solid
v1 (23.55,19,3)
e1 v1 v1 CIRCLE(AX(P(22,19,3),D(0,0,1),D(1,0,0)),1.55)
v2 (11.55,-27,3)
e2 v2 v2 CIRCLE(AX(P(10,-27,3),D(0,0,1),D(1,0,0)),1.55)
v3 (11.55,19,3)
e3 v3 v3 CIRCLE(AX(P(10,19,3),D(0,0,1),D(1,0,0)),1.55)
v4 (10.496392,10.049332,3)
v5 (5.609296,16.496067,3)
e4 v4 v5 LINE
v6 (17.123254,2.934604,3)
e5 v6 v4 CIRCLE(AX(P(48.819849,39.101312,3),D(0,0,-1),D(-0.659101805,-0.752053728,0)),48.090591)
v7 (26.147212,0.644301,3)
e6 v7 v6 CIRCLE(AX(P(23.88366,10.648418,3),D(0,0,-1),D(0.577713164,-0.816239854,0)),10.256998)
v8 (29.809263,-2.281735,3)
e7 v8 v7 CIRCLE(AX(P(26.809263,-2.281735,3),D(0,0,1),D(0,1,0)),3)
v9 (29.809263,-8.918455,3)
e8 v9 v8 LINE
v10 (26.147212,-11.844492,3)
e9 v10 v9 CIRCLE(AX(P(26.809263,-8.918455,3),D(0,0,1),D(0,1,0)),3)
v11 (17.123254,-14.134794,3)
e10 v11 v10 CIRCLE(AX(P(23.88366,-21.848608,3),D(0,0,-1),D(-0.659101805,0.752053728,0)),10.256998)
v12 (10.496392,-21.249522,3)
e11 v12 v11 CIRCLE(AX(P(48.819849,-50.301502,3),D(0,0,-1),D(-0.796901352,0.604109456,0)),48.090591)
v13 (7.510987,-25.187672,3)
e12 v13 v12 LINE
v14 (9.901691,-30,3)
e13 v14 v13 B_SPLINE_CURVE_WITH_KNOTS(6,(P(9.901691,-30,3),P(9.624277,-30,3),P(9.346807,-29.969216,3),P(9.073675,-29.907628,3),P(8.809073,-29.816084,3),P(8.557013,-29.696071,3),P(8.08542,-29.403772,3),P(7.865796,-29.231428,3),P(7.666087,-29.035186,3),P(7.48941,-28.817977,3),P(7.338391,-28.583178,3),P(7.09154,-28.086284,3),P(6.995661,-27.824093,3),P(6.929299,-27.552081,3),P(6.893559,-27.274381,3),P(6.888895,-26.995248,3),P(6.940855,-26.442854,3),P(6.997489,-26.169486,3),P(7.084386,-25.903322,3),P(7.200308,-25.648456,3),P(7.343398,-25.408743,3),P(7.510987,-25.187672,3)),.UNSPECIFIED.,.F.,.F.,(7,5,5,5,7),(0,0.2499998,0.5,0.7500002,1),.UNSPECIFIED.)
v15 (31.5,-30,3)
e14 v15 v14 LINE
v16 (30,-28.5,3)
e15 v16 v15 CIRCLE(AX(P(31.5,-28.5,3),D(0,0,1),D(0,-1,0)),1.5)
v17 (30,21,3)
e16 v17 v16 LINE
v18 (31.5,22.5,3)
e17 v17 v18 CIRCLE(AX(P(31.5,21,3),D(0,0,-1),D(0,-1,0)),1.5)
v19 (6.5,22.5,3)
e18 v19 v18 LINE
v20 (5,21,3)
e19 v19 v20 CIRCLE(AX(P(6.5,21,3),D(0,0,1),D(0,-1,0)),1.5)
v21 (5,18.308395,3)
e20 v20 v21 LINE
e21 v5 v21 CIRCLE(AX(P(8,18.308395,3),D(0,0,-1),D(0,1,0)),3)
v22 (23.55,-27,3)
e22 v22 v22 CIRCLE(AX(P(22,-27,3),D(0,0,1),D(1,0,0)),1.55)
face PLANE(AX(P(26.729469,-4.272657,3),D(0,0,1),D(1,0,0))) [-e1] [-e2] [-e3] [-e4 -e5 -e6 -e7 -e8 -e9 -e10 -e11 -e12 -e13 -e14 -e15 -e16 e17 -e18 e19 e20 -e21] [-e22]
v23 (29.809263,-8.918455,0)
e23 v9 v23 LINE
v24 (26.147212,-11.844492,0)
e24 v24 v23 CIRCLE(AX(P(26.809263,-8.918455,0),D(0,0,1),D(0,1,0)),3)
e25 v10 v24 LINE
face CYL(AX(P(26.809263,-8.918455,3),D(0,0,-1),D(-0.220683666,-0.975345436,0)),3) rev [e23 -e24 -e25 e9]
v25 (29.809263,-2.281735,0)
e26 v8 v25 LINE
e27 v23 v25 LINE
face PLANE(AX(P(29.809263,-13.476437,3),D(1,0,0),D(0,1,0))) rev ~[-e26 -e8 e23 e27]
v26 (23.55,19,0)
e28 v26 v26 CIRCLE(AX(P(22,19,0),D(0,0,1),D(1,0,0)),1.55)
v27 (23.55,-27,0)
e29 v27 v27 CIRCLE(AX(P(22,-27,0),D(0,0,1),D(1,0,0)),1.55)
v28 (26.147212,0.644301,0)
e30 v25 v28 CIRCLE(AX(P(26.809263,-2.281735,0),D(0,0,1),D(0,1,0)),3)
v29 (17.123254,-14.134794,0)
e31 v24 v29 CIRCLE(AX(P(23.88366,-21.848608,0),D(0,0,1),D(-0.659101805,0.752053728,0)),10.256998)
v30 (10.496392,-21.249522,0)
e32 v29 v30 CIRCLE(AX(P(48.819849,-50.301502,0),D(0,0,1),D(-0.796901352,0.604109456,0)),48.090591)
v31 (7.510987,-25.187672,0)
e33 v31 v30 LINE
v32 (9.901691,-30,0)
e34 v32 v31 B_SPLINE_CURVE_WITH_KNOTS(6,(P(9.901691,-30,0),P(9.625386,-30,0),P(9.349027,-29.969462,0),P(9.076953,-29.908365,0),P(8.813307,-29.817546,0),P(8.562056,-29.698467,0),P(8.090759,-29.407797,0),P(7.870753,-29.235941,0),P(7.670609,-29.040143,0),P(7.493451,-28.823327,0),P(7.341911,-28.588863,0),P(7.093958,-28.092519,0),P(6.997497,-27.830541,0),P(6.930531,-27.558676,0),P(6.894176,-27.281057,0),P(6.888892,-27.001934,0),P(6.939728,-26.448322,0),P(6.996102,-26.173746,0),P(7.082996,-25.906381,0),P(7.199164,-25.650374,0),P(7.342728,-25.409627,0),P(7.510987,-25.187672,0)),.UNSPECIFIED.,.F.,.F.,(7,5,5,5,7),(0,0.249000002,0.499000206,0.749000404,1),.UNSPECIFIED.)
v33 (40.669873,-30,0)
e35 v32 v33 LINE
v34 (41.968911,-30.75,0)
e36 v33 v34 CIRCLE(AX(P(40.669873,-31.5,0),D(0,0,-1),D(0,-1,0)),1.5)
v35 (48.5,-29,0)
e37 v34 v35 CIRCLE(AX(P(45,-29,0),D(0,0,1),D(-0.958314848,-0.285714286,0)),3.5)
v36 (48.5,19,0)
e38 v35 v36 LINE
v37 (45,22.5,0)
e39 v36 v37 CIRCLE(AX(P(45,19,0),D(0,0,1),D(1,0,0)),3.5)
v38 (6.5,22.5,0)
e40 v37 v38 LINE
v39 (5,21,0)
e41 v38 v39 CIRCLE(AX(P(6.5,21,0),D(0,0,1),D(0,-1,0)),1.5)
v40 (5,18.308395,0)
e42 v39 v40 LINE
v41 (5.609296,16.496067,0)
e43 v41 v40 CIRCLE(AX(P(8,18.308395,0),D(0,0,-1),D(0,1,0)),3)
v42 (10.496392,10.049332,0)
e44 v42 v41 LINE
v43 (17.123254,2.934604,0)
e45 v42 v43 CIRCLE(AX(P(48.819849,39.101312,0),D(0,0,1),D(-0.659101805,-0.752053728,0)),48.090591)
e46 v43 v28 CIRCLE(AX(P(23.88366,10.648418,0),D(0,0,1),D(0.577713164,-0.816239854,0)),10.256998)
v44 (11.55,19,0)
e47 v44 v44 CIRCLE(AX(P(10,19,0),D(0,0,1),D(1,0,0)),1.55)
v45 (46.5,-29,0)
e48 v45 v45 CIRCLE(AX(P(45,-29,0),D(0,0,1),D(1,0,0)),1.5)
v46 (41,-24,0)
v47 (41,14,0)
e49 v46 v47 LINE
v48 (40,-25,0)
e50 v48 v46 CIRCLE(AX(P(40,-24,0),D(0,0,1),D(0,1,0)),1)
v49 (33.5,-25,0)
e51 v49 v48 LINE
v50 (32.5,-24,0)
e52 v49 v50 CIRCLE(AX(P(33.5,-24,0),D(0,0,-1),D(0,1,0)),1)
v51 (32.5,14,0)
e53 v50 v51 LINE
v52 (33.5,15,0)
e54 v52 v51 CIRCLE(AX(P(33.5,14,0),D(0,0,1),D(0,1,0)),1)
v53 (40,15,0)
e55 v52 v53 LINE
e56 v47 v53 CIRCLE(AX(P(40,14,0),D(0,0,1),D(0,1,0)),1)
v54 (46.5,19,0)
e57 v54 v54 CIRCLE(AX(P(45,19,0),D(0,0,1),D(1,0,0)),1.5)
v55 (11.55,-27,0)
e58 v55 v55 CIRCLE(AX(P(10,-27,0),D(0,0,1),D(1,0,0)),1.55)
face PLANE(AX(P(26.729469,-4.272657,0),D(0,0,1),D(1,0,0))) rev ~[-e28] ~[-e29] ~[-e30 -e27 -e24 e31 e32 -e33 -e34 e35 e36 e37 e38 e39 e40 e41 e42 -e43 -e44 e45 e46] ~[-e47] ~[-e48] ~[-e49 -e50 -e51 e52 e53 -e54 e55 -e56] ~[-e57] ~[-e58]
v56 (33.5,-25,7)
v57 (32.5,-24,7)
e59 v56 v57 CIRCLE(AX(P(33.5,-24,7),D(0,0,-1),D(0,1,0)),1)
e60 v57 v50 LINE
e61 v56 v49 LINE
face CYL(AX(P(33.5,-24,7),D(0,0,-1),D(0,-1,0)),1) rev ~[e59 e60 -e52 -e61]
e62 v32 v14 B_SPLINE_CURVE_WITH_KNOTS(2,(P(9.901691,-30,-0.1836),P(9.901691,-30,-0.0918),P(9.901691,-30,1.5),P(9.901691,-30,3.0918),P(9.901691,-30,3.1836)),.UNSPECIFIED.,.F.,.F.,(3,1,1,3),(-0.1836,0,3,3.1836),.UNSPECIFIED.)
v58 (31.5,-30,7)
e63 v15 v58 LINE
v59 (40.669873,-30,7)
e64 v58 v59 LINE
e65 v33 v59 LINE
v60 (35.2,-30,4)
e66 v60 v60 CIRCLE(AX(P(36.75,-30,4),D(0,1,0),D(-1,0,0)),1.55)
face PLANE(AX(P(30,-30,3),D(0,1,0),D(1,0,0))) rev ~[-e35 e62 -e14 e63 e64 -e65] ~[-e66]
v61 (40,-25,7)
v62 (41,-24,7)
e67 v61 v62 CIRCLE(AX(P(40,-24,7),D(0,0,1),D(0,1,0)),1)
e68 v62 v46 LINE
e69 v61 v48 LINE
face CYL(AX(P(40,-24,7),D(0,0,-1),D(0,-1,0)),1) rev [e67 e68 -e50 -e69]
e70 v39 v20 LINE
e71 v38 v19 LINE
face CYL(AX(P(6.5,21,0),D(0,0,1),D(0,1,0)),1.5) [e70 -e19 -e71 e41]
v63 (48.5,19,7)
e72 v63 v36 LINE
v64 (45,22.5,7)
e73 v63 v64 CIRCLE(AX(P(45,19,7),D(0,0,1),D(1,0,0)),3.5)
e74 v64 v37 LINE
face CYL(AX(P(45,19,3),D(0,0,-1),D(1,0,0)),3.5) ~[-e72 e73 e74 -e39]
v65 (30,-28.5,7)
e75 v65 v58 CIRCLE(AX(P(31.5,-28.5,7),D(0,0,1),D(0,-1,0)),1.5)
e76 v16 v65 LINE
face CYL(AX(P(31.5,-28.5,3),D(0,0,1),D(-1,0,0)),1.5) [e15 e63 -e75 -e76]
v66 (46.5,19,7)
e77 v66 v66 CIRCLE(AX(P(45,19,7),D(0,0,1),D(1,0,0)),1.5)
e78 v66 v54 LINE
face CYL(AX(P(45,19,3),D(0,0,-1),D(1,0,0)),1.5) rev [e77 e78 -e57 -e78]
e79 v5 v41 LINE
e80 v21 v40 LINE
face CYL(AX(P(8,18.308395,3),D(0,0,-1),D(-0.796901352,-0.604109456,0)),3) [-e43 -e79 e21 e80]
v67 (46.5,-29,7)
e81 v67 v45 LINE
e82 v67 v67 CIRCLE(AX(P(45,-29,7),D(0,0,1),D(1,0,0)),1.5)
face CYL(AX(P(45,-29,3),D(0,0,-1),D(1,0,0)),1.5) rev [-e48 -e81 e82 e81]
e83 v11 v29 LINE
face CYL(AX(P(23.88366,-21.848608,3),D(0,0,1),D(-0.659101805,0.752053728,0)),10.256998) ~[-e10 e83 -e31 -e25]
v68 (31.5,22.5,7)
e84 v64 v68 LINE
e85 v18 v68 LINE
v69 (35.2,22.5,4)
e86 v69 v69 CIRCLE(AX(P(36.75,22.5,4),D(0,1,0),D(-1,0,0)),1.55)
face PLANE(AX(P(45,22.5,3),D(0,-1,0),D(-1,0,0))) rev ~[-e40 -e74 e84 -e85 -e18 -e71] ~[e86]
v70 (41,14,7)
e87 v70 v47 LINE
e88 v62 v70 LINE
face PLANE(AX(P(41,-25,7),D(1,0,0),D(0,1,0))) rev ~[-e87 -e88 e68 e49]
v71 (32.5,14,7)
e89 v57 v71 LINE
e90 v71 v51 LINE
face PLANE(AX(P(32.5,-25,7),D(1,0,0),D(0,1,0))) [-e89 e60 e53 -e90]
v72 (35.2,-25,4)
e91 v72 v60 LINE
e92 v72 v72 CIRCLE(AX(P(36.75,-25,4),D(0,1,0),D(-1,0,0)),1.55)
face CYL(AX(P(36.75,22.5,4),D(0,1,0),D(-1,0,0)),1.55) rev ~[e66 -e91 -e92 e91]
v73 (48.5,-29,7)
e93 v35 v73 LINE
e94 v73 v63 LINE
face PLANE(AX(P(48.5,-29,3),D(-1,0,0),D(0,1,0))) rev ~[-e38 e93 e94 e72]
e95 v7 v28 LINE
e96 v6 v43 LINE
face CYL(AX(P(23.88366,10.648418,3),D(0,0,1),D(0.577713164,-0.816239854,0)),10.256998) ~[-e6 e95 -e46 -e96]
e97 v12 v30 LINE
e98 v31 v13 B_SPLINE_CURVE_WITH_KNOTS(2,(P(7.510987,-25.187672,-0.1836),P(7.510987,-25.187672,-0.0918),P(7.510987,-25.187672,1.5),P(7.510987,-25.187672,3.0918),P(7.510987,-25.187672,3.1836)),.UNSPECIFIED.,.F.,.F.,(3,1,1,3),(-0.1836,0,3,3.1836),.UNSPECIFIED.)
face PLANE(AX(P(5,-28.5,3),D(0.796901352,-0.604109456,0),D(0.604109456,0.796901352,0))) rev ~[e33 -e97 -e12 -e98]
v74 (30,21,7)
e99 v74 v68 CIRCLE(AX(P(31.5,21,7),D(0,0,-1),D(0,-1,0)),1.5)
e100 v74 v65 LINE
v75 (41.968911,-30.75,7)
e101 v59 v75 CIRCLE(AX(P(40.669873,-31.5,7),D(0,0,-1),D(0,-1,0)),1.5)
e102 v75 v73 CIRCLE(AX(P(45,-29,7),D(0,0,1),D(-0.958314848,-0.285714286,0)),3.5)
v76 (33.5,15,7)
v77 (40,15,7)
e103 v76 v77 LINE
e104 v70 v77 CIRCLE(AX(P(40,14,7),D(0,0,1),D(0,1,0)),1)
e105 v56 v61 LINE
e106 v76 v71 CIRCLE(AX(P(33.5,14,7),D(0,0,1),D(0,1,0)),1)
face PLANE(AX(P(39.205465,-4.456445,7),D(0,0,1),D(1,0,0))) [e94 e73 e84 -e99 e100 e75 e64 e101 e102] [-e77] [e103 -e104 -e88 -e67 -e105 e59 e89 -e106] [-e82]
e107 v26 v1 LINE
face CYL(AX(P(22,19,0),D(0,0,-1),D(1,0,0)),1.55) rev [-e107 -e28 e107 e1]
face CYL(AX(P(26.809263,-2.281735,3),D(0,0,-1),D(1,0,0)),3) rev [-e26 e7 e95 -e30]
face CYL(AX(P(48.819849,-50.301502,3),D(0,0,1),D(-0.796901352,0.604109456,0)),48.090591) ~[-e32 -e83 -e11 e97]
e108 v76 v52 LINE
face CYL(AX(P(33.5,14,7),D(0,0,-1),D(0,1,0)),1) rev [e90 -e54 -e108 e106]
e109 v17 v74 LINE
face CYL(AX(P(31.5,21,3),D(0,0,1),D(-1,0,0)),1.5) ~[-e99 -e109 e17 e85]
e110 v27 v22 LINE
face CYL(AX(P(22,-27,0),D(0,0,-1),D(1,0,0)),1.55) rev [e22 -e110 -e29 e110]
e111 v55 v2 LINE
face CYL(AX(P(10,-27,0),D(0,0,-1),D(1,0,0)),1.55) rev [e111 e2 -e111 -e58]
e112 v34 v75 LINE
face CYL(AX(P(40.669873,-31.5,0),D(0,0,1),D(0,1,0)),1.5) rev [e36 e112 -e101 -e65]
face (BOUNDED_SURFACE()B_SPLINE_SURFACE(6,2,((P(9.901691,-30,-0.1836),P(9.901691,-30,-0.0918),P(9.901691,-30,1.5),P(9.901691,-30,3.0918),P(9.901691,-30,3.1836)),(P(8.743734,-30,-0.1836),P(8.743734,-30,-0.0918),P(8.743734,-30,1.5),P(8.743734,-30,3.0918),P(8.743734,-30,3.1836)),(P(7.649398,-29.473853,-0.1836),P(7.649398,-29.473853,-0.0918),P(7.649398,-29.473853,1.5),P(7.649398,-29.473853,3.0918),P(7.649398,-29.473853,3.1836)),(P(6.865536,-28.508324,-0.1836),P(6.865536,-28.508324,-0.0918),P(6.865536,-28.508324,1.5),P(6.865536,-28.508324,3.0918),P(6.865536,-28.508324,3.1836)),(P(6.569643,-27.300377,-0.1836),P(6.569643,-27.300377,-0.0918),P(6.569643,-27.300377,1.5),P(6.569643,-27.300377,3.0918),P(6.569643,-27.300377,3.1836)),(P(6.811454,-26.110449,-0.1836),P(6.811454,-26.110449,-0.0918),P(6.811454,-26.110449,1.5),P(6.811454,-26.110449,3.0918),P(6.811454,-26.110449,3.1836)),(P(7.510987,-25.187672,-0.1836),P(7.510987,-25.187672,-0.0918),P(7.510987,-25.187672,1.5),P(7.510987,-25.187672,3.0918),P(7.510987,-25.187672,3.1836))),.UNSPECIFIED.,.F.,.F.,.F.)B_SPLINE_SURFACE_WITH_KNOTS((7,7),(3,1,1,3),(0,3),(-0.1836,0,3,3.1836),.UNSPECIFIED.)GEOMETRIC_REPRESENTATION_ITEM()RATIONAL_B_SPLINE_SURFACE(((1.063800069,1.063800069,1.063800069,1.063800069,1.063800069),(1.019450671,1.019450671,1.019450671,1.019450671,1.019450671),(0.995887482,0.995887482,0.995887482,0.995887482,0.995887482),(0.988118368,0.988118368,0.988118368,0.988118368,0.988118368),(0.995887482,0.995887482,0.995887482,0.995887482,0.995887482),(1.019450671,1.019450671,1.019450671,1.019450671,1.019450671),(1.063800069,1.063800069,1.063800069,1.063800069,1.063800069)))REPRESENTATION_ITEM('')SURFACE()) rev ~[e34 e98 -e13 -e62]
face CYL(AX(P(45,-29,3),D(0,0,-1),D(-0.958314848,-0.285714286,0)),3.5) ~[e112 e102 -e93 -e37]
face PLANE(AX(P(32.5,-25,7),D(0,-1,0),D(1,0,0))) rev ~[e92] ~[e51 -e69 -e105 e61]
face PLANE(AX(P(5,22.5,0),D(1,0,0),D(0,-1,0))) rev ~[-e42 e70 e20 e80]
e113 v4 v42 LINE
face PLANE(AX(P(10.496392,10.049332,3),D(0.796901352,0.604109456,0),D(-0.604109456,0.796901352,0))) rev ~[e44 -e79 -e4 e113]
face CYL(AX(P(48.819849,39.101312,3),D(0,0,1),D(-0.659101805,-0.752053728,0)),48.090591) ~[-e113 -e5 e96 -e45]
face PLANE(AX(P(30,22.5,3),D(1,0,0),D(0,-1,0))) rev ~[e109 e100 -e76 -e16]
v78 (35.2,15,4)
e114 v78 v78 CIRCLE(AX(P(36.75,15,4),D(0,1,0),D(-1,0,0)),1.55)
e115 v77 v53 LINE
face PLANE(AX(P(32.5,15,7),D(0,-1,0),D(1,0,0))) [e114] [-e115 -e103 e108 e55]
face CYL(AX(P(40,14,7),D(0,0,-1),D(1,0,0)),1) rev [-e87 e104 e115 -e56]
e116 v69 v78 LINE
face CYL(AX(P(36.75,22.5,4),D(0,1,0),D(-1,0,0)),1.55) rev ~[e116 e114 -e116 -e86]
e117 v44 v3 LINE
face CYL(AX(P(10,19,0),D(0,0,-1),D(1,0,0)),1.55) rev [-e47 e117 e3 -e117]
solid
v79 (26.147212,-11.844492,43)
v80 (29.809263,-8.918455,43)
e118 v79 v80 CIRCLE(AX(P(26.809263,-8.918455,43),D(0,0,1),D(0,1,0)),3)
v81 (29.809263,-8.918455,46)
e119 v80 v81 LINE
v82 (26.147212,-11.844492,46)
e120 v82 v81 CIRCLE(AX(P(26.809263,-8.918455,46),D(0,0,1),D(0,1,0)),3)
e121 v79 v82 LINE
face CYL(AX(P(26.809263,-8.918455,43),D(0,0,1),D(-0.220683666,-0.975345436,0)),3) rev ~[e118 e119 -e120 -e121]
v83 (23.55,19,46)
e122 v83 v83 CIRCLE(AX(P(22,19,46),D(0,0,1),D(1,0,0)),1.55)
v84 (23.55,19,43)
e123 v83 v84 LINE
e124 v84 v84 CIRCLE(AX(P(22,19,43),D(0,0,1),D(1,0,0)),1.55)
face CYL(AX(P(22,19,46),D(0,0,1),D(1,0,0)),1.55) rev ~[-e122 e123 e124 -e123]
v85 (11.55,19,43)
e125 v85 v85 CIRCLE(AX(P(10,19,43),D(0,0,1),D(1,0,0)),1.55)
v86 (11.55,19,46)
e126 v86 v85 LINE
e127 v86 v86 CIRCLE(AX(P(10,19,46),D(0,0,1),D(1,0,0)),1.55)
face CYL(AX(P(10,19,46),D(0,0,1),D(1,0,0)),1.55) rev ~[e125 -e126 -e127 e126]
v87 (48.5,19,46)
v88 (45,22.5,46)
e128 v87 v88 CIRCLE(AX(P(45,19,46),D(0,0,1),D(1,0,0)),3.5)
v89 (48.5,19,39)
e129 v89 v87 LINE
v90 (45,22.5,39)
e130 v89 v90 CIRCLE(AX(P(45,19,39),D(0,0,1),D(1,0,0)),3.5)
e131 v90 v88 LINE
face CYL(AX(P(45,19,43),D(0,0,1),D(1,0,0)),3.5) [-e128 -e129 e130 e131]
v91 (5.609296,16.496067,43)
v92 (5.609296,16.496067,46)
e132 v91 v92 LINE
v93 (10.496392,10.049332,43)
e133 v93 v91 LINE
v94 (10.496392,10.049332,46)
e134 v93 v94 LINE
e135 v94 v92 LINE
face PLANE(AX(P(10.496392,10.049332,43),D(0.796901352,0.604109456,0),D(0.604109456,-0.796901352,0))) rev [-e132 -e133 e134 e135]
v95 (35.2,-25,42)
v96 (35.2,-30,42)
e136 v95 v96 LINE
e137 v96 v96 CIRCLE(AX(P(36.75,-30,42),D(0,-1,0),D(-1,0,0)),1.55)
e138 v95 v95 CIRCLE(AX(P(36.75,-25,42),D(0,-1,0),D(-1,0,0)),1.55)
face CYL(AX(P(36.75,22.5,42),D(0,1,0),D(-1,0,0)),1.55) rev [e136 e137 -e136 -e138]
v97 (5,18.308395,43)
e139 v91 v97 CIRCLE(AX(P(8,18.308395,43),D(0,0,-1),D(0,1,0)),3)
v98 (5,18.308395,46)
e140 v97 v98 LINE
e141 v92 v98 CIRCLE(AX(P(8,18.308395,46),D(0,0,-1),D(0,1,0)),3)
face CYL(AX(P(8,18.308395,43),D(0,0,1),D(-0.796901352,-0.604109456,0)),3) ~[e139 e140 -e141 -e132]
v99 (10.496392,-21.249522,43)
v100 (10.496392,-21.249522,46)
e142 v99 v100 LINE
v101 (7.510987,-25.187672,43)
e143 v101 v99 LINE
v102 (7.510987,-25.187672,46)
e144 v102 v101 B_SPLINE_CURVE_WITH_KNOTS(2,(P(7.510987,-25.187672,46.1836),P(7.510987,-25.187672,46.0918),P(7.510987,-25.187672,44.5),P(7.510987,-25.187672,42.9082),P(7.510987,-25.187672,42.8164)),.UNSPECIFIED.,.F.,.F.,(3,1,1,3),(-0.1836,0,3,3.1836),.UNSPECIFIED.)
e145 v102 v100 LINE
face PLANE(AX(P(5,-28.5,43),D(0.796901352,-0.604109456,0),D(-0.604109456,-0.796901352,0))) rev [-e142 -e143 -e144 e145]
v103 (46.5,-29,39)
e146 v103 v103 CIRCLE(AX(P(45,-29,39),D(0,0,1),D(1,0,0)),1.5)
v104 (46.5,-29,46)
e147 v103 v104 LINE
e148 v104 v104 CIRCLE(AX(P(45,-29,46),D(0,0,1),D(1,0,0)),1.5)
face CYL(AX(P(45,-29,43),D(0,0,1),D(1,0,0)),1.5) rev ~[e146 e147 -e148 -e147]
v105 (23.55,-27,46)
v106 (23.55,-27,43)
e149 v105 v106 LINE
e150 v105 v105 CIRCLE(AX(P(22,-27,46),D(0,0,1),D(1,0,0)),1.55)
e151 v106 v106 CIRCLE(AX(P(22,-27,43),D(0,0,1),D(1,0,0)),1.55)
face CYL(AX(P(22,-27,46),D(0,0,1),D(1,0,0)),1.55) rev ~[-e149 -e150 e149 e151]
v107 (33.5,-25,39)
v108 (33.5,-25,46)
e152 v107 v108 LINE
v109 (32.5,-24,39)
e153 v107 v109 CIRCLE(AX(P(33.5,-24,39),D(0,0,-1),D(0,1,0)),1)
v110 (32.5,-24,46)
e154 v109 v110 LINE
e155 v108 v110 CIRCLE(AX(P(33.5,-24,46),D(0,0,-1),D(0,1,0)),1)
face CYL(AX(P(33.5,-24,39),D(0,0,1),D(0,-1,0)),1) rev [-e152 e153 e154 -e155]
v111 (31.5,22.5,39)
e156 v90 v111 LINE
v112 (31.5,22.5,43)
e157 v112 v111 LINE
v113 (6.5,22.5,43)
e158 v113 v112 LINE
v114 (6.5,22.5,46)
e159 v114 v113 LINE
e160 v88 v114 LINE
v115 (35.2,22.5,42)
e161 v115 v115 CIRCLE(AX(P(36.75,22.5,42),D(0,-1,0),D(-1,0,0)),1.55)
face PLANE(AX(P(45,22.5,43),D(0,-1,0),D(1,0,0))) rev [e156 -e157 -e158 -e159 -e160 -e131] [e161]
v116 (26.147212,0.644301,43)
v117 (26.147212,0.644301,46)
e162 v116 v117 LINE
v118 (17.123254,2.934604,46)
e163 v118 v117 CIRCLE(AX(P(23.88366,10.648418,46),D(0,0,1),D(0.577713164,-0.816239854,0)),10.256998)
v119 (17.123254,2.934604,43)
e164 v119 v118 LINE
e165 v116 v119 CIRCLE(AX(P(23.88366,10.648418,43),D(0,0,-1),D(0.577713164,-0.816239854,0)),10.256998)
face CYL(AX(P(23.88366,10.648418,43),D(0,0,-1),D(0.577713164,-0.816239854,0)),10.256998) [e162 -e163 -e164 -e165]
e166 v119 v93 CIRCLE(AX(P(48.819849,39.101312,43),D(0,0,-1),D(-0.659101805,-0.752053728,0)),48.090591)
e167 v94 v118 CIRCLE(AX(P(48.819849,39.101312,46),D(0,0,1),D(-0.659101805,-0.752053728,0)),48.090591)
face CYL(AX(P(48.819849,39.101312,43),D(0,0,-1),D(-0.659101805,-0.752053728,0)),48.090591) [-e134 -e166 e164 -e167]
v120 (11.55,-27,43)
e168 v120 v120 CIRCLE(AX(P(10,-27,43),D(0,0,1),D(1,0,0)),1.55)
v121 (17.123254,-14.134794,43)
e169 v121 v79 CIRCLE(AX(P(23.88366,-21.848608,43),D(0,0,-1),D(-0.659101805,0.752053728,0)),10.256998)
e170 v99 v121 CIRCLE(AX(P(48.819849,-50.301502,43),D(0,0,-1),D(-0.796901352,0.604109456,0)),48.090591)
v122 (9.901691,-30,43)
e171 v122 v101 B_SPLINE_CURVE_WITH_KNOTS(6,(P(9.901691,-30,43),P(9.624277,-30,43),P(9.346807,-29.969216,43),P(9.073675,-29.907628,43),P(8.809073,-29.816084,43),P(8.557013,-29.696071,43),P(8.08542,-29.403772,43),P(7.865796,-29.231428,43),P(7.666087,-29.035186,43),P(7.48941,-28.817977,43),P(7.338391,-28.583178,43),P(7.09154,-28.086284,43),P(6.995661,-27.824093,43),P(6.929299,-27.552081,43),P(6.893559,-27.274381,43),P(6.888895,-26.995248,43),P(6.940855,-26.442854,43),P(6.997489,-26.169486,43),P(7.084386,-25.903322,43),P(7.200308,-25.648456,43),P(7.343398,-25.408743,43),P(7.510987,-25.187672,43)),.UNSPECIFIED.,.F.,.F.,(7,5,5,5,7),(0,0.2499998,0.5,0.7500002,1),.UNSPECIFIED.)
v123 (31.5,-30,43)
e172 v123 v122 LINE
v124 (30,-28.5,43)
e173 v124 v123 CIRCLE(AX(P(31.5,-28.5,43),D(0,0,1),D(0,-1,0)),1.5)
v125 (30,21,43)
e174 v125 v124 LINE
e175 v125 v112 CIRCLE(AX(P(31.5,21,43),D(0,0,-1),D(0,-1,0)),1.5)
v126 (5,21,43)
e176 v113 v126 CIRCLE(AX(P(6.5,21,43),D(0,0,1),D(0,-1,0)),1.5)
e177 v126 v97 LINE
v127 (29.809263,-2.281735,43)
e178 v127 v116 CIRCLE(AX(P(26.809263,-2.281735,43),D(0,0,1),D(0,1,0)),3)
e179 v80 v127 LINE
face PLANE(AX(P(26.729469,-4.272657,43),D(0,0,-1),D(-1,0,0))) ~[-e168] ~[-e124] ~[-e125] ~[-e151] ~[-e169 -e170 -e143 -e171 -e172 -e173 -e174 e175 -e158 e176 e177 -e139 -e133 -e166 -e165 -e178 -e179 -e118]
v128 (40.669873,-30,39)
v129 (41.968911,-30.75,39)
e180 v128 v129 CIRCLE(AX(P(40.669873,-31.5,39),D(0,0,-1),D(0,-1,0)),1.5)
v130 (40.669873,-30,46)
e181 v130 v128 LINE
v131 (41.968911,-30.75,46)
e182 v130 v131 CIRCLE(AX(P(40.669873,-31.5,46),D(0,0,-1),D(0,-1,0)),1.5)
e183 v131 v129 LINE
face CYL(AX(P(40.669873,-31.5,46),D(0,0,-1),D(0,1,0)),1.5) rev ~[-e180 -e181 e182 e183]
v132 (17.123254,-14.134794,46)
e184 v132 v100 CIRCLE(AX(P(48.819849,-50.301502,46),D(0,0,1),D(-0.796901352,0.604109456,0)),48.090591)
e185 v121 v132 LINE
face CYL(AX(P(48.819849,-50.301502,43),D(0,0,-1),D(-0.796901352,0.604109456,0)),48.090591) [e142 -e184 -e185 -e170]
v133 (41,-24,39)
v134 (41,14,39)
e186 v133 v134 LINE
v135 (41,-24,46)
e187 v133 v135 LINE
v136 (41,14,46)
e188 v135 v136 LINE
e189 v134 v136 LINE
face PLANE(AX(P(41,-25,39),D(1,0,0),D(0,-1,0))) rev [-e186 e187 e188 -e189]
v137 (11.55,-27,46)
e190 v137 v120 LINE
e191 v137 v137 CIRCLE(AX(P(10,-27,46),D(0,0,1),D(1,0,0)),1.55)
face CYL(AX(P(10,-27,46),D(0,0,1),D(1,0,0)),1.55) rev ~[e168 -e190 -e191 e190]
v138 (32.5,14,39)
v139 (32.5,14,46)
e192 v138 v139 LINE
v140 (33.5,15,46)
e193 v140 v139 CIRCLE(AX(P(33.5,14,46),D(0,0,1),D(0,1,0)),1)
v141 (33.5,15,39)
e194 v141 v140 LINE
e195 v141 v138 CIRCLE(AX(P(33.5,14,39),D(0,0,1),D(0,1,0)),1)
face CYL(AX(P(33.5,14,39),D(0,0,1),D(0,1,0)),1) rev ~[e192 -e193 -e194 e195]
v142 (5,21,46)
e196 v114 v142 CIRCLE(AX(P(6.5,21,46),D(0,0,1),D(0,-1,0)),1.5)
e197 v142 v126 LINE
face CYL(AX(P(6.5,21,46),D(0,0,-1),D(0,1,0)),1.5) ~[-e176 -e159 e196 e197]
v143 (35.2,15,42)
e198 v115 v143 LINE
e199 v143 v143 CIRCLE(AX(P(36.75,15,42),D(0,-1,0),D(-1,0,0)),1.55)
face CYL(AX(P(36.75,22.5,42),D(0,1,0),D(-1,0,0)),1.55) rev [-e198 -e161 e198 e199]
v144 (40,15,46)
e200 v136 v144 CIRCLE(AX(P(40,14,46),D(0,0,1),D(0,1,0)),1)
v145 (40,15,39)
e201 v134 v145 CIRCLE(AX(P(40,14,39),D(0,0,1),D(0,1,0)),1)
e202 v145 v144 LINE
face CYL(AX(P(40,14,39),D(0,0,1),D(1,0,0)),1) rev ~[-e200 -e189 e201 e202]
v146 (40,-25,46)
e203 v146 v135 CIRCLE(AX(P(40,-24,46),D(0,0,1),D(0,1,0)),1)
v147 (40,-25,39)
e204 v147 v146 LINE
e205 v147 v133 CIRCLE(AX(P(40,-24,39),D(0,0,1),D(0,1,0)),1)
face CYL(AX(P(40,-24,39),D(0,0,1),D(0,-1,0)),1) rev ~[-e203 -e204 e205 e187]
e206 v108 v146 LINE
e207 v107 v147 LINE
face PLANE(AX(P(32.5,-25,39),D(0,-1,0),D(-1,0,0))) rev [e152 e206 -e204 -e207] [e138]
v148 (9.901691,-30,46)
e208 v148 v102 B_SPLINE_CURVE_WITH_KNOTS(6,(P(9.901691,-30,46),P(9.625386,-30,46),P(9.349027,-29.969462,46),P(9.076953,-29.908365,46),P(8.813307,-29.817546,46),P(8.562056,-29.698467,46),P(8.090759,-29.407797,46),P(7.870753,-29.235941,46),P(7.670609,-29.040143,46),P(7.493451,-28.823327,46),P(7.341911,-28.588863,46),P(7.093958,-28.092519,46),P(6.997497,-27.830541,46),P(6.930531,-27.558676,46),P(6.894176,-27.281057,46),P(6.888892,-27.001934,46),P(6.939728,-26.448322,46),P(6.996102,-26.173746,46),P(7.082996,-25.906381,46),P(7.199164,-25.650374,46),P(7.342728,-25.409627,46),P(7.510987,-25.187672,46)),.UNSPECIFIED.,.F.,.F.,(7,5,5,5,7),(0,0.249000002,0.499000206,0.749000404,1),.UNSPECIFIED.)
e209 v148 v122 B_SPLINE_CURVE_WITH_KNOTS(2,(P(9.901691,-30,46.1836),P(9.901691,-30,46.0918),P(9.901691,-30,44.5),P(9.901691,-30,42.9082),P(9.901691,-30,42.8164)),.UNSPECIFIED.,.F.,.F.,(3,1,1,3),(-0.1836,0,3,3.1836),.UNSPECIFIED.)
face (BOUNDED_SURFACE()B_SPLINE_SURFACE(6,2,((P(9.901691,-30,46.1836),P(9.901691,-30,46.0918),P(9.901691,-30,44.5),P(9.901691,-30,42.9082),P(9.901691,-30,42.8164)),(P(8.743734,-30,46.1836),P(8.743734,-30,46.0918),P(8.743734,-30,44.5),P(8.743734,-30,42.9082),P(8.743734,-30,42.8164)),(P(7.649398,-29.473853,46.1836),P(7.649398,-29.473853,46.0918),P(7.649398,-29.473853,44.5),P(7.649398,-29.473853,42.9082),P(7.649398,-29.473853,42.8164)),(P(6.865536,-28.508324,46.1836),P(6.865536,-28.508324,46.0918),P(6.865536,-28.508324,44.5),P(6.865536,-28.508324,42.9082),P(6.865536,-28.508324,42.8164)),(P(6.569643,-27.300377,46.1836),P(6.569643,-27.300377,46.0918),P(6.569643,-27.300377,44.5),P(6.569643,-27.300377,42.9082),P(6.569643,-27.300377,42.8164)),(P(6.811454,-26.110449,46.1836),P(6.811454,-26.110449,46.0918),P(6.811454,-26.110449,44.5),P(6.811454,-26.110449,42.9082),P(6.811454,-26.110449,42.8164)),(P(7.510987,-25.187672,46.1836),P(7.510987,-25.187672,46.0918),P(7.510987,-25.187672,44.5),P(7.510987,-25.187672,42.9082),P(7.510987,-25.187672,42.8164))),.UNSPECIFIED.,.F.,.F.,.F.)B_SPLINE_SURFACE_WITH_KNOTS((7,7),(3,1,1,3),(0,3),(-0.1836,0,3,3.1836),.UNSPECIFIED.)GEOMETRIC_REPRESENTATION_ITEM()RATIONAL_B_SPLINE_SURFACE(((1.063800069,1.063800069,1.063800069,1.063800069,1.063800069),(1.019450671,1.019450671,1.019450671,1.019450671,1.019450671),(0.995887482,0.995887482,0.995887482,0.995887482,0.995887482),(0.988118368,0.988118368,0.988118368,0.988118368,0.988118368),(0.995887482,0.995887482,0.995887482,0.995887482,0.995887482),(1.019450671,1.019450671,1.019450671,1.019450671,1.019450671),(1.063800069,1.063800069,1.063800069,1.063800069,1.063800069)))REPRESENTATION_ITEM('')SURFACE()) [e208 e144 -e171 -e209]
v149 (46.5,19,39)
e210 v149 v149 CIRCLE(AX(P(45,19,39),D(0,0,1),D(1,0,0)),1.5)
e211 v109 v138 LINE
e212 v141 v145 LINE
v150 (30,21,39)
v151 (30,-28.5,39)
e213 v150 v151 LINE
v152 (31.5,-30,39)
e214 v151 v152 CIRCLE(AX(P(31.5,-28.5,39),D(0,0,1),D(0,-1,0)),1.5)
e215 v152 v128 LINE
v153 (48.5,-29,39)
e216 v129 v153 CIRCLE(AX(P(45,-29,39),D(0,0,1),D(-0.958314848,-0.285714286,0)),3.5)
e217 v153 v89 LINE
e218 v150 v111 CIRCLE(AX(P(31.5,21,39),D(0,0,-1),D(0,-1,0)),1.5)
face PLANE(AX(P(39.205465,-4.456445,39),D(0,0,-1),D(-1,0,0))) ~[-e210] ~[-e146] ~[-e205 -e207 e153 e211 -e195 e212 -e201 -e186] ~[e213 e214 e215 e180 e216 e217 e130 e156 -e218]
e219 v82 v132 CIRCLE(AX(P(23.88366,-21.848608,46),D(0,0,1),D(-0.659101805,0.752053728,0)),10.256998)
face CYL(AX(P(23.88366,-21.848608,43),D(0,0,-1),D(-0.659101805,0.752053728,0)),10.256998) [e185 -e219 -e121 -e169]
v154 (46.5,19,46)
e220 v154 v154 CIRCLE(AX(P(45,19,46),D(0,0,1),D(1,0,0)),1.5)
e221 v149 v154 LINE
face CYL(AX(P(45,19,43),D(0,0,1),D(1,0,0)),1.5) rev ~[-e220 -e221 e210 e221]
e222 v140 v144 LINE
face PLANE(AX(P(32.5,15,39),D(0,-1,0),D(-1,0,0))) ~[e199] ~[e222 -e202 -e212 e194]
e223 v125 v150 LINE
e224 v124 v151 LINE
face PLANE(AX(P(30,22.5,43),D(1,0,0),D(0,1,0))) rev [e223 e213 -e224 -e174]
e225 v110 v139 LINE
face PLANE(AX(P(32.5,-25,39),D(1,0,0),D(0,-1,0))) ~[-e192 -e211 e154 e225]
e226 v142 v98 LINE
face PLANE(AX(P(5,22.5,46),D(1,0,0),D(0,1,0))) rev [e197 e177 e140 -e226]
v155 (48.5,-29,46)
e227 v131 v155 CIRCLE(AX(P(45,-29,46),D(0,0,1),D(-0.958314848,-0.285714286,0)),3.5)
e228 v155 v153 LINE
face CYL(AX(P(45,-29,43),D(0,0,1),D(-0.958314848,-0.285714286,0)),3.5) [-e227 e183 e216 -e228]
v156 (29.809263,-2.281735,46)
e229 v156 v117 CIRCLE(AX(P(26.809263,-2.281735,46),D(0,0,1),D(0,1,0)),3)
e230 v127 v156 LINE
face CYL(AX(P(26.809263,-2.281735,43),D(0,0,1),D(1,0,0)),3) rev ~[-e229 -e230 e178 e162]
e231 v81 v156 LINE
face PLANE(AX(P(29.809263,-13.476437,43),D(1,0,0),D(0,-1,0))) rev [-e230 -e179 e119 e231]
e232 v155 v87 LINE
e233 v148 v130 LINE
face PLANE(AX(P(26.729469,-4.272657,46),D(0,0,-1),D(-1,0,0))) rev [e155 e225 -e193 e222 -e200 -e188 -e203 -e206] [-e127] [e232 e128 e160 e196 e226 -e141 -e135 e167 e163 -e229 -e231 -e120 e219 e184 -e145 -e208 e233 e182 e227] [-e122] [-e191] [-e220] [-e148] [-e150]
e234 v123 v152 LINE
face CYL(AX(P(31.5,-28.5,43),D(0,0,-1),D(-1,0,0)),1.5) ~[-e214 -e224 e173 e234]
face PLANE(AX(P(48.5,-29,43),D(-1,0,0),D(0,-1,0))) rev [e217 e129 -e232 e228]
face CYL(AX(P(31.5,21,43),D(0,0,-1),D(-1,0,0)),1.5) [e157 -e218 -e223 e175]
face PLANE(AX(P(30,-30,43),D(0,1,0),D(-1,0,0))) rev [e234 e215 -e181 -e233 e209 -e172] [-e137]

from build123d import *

# Parameters (mm, degrees)
SKETCH_3_R          = 1.5
SKETCH_3_R_2        = 1.55
EXTRUDE_1_DEPTH     = 3
SKETCH_4_R          = 1.5
EXTRUDE_2_DEPTH     = 4
SKETCH_5_W          = 8.5
SKETCH_5_H          = 40
CUT_EXTRUDE_1_DEPTH = 17
SKETCH_7_R          = 1.55
CUT_EXTRUDE_2_DEPTH = 57
FILLET_1_R          = 1
FILLET_2_R          = 1.5
CUT_EXTRUDE_3_DEPTH = 59.519227609
FILLET_3_R          = 3


with BuildPart() as part:
    # 草图3 → 凸台-拉伸1 (new body)
    with BuildSketch(Plane.XY):
        with BuildLine():
            Line((45, 22.5), (5, 22.5))
            Line((5, 22.5), (5, -30))
            Line((5, -30), (41.645898034, -30))
            ThreePointArc((41.645898034, -30), (45.505293538, -32.463333429), (48.5, -29))
            Line((48.5, -29), (48.5, 19))
            ThreePointArc((48.5, 19), (47.474873734, 21.474873734), (45, 22.5))
        make_face()
        with Locations((45, 19)):
            Circle(SKETCH_3_R, mode=Mode.SUBTRACT)
        with Locations((45, -29)):
            Circle(SKETCH_3_R, mode=Mode.SUBTRACT)
        with Locations((22, 19)):
            Circle(SKETCH_3_R_2, mode=Mode.SUBTRACT)
        with Locations((10, 19)):
            Circle(SKETCH_3_R_2, mode=Mode.SUBTRACT)
        with Locations((10, -27)):
            Circle(SKETCH_3_R_2, mode=Mode.SUBTRACT)
        with Locations((22, -27)):
            Circle(SKETCH_3_R_2, mode=Mode.SUBTRACT)
    extrude(amount=EXTRUDE_1_DEPTH)

    # 草图4 → 凸台-拉伸2 (add)
    with BuildSketch(Plane.XY.offset(3)):
        with BuildLine():
            Line((30, 22.5), (30, -30))
            Line((30, -30), (41.645898034, -30))
            ThreePointArc((41.645898034, -30), (45.505293538, -32.463333429), (48.5, -29))
            Line((48.5, -29), (48.5, 19))
            ThreePointArc((48.5, 19), (47.474873734, 21.474873734), (45, 22.5))
            Line((45, 22.5), (30, 22.5))
        make_face()
        with Locations((45, 19)):
            Circle(SKETCH_4_R, mode=Mode.SUBTRACT)
        with Locations((45, -29)):
            Circle(SKETCH_4_R, mode=Mode.SUBTRACT)
    extrude(amount=EXTRUDE_2_DEPTH)

    # 草图5 → 切除-拉伸1 (cut)
    with BuildSketch(Plane.XY.offset(7)):
        with Locations((36.75, -5)):
            Rectangle(SKETCH_5_W, SKETCH_5_H)
    extrude(amount=-CUT_EXTRUDE_1_DEPTH, mode=Mode.SUBTRACT)

    # 草图7 → 切除-拉伸2 (cut)
    with BuildSketch(Plane(origin=(0, 22.5, 0), x_dir=(1, 0, 0), z_dir=(0, 1, 0))):
        with Locations(Location((36.75, -4, 0), (0, 0, 180))):
            Circle(SKETCH_7_R)
    extrude(amount=-CUT_EXTRUDE_2_DEPTH, mode=Mode.SUBTRACT)

    # 圆角1
    fillet_1_edges = [part.edges().sort_by_distance(p)[0] for p in [
        (32.5, -25, 3.5),
        (32.5, 15, 3.5),
        (41, 15, 3.5),
        (41, -25, 3.5),
    ]]
    fillet(fillet_1_edges, radius=FILLET_1_R)

    # 圆角2
    fillet_2_edges = [part.edges().sort_by_distance(p)[0] for p in [
        (41.645898034, -30, 3.5),
        (5, -30, 1.5),
        (5, 22.5, 1.5),
        (30, 22.5, 5),
        (30, -30, 5),
    ]]
    fillet(fillet_2_edges, radius=FILLET_2_R)

    # 草图8 → 切除-拉伸3 (cut, through all)
    with BuildSketch(Plane.XY.offset(3)):
        with BuildLine():
            Line((29.809263128, -13.476437304), (29.809263128, 2.276247187))
            ThreePointArc((29.809263128, 2.276247187), (23.352075159, 0.405204035), (17.123253934, 2.93460418))
            ThreePointArc((17.123253934, 2.93460418), (13.629555634, 6.324061552), (10.496392348, 10.049331598))
            Line((10.496392348, 10.049331598), (5, 17.299809883))
            Line((5, 17.299809883), (2.692213842, 20.344089178))
            Line((2.692213842, 20.344089178), (2.692213842, -31.544279295))
            Line((2.692213842, -31.544279295), (5, -28.5))
            Line((5, -28.5), (10.496392348, -21.249521715))
            ThreePointArc((10.496392348, -21.249521715), (13.629555634, -17.524251669), (17.123253934, -14.134794297))
            ThreePointArc((17.123253934, -14.134794297), (23.352075159, -11.605394152), (29.809263128, -13.476437304))
        make_face()
    extrude(amount=-CUT_EXTRUDE_3_DEPTH, mode=Mode.SUBTRACT)

    # 圆角3
    fillet_3_edges = [part.edges().sort_by_distance(p)[0] for p in [
        (5, -28.5, 1.5),
        (29.809263128, -13.476437304, 1.5),
        (5, 17.299809883, 1.5),
        (29.809263128, 2.276247187, 1.5),
    ]]
    fillet(fillet_3_edges, radius=FILLET_3_R)


with BuildPart() as body_2:
    # 镜向1: mirrored copy
    add(part.part.mirror(Plane.XY.offset(23)))


solid = Compound([part.part, body_2.part])
